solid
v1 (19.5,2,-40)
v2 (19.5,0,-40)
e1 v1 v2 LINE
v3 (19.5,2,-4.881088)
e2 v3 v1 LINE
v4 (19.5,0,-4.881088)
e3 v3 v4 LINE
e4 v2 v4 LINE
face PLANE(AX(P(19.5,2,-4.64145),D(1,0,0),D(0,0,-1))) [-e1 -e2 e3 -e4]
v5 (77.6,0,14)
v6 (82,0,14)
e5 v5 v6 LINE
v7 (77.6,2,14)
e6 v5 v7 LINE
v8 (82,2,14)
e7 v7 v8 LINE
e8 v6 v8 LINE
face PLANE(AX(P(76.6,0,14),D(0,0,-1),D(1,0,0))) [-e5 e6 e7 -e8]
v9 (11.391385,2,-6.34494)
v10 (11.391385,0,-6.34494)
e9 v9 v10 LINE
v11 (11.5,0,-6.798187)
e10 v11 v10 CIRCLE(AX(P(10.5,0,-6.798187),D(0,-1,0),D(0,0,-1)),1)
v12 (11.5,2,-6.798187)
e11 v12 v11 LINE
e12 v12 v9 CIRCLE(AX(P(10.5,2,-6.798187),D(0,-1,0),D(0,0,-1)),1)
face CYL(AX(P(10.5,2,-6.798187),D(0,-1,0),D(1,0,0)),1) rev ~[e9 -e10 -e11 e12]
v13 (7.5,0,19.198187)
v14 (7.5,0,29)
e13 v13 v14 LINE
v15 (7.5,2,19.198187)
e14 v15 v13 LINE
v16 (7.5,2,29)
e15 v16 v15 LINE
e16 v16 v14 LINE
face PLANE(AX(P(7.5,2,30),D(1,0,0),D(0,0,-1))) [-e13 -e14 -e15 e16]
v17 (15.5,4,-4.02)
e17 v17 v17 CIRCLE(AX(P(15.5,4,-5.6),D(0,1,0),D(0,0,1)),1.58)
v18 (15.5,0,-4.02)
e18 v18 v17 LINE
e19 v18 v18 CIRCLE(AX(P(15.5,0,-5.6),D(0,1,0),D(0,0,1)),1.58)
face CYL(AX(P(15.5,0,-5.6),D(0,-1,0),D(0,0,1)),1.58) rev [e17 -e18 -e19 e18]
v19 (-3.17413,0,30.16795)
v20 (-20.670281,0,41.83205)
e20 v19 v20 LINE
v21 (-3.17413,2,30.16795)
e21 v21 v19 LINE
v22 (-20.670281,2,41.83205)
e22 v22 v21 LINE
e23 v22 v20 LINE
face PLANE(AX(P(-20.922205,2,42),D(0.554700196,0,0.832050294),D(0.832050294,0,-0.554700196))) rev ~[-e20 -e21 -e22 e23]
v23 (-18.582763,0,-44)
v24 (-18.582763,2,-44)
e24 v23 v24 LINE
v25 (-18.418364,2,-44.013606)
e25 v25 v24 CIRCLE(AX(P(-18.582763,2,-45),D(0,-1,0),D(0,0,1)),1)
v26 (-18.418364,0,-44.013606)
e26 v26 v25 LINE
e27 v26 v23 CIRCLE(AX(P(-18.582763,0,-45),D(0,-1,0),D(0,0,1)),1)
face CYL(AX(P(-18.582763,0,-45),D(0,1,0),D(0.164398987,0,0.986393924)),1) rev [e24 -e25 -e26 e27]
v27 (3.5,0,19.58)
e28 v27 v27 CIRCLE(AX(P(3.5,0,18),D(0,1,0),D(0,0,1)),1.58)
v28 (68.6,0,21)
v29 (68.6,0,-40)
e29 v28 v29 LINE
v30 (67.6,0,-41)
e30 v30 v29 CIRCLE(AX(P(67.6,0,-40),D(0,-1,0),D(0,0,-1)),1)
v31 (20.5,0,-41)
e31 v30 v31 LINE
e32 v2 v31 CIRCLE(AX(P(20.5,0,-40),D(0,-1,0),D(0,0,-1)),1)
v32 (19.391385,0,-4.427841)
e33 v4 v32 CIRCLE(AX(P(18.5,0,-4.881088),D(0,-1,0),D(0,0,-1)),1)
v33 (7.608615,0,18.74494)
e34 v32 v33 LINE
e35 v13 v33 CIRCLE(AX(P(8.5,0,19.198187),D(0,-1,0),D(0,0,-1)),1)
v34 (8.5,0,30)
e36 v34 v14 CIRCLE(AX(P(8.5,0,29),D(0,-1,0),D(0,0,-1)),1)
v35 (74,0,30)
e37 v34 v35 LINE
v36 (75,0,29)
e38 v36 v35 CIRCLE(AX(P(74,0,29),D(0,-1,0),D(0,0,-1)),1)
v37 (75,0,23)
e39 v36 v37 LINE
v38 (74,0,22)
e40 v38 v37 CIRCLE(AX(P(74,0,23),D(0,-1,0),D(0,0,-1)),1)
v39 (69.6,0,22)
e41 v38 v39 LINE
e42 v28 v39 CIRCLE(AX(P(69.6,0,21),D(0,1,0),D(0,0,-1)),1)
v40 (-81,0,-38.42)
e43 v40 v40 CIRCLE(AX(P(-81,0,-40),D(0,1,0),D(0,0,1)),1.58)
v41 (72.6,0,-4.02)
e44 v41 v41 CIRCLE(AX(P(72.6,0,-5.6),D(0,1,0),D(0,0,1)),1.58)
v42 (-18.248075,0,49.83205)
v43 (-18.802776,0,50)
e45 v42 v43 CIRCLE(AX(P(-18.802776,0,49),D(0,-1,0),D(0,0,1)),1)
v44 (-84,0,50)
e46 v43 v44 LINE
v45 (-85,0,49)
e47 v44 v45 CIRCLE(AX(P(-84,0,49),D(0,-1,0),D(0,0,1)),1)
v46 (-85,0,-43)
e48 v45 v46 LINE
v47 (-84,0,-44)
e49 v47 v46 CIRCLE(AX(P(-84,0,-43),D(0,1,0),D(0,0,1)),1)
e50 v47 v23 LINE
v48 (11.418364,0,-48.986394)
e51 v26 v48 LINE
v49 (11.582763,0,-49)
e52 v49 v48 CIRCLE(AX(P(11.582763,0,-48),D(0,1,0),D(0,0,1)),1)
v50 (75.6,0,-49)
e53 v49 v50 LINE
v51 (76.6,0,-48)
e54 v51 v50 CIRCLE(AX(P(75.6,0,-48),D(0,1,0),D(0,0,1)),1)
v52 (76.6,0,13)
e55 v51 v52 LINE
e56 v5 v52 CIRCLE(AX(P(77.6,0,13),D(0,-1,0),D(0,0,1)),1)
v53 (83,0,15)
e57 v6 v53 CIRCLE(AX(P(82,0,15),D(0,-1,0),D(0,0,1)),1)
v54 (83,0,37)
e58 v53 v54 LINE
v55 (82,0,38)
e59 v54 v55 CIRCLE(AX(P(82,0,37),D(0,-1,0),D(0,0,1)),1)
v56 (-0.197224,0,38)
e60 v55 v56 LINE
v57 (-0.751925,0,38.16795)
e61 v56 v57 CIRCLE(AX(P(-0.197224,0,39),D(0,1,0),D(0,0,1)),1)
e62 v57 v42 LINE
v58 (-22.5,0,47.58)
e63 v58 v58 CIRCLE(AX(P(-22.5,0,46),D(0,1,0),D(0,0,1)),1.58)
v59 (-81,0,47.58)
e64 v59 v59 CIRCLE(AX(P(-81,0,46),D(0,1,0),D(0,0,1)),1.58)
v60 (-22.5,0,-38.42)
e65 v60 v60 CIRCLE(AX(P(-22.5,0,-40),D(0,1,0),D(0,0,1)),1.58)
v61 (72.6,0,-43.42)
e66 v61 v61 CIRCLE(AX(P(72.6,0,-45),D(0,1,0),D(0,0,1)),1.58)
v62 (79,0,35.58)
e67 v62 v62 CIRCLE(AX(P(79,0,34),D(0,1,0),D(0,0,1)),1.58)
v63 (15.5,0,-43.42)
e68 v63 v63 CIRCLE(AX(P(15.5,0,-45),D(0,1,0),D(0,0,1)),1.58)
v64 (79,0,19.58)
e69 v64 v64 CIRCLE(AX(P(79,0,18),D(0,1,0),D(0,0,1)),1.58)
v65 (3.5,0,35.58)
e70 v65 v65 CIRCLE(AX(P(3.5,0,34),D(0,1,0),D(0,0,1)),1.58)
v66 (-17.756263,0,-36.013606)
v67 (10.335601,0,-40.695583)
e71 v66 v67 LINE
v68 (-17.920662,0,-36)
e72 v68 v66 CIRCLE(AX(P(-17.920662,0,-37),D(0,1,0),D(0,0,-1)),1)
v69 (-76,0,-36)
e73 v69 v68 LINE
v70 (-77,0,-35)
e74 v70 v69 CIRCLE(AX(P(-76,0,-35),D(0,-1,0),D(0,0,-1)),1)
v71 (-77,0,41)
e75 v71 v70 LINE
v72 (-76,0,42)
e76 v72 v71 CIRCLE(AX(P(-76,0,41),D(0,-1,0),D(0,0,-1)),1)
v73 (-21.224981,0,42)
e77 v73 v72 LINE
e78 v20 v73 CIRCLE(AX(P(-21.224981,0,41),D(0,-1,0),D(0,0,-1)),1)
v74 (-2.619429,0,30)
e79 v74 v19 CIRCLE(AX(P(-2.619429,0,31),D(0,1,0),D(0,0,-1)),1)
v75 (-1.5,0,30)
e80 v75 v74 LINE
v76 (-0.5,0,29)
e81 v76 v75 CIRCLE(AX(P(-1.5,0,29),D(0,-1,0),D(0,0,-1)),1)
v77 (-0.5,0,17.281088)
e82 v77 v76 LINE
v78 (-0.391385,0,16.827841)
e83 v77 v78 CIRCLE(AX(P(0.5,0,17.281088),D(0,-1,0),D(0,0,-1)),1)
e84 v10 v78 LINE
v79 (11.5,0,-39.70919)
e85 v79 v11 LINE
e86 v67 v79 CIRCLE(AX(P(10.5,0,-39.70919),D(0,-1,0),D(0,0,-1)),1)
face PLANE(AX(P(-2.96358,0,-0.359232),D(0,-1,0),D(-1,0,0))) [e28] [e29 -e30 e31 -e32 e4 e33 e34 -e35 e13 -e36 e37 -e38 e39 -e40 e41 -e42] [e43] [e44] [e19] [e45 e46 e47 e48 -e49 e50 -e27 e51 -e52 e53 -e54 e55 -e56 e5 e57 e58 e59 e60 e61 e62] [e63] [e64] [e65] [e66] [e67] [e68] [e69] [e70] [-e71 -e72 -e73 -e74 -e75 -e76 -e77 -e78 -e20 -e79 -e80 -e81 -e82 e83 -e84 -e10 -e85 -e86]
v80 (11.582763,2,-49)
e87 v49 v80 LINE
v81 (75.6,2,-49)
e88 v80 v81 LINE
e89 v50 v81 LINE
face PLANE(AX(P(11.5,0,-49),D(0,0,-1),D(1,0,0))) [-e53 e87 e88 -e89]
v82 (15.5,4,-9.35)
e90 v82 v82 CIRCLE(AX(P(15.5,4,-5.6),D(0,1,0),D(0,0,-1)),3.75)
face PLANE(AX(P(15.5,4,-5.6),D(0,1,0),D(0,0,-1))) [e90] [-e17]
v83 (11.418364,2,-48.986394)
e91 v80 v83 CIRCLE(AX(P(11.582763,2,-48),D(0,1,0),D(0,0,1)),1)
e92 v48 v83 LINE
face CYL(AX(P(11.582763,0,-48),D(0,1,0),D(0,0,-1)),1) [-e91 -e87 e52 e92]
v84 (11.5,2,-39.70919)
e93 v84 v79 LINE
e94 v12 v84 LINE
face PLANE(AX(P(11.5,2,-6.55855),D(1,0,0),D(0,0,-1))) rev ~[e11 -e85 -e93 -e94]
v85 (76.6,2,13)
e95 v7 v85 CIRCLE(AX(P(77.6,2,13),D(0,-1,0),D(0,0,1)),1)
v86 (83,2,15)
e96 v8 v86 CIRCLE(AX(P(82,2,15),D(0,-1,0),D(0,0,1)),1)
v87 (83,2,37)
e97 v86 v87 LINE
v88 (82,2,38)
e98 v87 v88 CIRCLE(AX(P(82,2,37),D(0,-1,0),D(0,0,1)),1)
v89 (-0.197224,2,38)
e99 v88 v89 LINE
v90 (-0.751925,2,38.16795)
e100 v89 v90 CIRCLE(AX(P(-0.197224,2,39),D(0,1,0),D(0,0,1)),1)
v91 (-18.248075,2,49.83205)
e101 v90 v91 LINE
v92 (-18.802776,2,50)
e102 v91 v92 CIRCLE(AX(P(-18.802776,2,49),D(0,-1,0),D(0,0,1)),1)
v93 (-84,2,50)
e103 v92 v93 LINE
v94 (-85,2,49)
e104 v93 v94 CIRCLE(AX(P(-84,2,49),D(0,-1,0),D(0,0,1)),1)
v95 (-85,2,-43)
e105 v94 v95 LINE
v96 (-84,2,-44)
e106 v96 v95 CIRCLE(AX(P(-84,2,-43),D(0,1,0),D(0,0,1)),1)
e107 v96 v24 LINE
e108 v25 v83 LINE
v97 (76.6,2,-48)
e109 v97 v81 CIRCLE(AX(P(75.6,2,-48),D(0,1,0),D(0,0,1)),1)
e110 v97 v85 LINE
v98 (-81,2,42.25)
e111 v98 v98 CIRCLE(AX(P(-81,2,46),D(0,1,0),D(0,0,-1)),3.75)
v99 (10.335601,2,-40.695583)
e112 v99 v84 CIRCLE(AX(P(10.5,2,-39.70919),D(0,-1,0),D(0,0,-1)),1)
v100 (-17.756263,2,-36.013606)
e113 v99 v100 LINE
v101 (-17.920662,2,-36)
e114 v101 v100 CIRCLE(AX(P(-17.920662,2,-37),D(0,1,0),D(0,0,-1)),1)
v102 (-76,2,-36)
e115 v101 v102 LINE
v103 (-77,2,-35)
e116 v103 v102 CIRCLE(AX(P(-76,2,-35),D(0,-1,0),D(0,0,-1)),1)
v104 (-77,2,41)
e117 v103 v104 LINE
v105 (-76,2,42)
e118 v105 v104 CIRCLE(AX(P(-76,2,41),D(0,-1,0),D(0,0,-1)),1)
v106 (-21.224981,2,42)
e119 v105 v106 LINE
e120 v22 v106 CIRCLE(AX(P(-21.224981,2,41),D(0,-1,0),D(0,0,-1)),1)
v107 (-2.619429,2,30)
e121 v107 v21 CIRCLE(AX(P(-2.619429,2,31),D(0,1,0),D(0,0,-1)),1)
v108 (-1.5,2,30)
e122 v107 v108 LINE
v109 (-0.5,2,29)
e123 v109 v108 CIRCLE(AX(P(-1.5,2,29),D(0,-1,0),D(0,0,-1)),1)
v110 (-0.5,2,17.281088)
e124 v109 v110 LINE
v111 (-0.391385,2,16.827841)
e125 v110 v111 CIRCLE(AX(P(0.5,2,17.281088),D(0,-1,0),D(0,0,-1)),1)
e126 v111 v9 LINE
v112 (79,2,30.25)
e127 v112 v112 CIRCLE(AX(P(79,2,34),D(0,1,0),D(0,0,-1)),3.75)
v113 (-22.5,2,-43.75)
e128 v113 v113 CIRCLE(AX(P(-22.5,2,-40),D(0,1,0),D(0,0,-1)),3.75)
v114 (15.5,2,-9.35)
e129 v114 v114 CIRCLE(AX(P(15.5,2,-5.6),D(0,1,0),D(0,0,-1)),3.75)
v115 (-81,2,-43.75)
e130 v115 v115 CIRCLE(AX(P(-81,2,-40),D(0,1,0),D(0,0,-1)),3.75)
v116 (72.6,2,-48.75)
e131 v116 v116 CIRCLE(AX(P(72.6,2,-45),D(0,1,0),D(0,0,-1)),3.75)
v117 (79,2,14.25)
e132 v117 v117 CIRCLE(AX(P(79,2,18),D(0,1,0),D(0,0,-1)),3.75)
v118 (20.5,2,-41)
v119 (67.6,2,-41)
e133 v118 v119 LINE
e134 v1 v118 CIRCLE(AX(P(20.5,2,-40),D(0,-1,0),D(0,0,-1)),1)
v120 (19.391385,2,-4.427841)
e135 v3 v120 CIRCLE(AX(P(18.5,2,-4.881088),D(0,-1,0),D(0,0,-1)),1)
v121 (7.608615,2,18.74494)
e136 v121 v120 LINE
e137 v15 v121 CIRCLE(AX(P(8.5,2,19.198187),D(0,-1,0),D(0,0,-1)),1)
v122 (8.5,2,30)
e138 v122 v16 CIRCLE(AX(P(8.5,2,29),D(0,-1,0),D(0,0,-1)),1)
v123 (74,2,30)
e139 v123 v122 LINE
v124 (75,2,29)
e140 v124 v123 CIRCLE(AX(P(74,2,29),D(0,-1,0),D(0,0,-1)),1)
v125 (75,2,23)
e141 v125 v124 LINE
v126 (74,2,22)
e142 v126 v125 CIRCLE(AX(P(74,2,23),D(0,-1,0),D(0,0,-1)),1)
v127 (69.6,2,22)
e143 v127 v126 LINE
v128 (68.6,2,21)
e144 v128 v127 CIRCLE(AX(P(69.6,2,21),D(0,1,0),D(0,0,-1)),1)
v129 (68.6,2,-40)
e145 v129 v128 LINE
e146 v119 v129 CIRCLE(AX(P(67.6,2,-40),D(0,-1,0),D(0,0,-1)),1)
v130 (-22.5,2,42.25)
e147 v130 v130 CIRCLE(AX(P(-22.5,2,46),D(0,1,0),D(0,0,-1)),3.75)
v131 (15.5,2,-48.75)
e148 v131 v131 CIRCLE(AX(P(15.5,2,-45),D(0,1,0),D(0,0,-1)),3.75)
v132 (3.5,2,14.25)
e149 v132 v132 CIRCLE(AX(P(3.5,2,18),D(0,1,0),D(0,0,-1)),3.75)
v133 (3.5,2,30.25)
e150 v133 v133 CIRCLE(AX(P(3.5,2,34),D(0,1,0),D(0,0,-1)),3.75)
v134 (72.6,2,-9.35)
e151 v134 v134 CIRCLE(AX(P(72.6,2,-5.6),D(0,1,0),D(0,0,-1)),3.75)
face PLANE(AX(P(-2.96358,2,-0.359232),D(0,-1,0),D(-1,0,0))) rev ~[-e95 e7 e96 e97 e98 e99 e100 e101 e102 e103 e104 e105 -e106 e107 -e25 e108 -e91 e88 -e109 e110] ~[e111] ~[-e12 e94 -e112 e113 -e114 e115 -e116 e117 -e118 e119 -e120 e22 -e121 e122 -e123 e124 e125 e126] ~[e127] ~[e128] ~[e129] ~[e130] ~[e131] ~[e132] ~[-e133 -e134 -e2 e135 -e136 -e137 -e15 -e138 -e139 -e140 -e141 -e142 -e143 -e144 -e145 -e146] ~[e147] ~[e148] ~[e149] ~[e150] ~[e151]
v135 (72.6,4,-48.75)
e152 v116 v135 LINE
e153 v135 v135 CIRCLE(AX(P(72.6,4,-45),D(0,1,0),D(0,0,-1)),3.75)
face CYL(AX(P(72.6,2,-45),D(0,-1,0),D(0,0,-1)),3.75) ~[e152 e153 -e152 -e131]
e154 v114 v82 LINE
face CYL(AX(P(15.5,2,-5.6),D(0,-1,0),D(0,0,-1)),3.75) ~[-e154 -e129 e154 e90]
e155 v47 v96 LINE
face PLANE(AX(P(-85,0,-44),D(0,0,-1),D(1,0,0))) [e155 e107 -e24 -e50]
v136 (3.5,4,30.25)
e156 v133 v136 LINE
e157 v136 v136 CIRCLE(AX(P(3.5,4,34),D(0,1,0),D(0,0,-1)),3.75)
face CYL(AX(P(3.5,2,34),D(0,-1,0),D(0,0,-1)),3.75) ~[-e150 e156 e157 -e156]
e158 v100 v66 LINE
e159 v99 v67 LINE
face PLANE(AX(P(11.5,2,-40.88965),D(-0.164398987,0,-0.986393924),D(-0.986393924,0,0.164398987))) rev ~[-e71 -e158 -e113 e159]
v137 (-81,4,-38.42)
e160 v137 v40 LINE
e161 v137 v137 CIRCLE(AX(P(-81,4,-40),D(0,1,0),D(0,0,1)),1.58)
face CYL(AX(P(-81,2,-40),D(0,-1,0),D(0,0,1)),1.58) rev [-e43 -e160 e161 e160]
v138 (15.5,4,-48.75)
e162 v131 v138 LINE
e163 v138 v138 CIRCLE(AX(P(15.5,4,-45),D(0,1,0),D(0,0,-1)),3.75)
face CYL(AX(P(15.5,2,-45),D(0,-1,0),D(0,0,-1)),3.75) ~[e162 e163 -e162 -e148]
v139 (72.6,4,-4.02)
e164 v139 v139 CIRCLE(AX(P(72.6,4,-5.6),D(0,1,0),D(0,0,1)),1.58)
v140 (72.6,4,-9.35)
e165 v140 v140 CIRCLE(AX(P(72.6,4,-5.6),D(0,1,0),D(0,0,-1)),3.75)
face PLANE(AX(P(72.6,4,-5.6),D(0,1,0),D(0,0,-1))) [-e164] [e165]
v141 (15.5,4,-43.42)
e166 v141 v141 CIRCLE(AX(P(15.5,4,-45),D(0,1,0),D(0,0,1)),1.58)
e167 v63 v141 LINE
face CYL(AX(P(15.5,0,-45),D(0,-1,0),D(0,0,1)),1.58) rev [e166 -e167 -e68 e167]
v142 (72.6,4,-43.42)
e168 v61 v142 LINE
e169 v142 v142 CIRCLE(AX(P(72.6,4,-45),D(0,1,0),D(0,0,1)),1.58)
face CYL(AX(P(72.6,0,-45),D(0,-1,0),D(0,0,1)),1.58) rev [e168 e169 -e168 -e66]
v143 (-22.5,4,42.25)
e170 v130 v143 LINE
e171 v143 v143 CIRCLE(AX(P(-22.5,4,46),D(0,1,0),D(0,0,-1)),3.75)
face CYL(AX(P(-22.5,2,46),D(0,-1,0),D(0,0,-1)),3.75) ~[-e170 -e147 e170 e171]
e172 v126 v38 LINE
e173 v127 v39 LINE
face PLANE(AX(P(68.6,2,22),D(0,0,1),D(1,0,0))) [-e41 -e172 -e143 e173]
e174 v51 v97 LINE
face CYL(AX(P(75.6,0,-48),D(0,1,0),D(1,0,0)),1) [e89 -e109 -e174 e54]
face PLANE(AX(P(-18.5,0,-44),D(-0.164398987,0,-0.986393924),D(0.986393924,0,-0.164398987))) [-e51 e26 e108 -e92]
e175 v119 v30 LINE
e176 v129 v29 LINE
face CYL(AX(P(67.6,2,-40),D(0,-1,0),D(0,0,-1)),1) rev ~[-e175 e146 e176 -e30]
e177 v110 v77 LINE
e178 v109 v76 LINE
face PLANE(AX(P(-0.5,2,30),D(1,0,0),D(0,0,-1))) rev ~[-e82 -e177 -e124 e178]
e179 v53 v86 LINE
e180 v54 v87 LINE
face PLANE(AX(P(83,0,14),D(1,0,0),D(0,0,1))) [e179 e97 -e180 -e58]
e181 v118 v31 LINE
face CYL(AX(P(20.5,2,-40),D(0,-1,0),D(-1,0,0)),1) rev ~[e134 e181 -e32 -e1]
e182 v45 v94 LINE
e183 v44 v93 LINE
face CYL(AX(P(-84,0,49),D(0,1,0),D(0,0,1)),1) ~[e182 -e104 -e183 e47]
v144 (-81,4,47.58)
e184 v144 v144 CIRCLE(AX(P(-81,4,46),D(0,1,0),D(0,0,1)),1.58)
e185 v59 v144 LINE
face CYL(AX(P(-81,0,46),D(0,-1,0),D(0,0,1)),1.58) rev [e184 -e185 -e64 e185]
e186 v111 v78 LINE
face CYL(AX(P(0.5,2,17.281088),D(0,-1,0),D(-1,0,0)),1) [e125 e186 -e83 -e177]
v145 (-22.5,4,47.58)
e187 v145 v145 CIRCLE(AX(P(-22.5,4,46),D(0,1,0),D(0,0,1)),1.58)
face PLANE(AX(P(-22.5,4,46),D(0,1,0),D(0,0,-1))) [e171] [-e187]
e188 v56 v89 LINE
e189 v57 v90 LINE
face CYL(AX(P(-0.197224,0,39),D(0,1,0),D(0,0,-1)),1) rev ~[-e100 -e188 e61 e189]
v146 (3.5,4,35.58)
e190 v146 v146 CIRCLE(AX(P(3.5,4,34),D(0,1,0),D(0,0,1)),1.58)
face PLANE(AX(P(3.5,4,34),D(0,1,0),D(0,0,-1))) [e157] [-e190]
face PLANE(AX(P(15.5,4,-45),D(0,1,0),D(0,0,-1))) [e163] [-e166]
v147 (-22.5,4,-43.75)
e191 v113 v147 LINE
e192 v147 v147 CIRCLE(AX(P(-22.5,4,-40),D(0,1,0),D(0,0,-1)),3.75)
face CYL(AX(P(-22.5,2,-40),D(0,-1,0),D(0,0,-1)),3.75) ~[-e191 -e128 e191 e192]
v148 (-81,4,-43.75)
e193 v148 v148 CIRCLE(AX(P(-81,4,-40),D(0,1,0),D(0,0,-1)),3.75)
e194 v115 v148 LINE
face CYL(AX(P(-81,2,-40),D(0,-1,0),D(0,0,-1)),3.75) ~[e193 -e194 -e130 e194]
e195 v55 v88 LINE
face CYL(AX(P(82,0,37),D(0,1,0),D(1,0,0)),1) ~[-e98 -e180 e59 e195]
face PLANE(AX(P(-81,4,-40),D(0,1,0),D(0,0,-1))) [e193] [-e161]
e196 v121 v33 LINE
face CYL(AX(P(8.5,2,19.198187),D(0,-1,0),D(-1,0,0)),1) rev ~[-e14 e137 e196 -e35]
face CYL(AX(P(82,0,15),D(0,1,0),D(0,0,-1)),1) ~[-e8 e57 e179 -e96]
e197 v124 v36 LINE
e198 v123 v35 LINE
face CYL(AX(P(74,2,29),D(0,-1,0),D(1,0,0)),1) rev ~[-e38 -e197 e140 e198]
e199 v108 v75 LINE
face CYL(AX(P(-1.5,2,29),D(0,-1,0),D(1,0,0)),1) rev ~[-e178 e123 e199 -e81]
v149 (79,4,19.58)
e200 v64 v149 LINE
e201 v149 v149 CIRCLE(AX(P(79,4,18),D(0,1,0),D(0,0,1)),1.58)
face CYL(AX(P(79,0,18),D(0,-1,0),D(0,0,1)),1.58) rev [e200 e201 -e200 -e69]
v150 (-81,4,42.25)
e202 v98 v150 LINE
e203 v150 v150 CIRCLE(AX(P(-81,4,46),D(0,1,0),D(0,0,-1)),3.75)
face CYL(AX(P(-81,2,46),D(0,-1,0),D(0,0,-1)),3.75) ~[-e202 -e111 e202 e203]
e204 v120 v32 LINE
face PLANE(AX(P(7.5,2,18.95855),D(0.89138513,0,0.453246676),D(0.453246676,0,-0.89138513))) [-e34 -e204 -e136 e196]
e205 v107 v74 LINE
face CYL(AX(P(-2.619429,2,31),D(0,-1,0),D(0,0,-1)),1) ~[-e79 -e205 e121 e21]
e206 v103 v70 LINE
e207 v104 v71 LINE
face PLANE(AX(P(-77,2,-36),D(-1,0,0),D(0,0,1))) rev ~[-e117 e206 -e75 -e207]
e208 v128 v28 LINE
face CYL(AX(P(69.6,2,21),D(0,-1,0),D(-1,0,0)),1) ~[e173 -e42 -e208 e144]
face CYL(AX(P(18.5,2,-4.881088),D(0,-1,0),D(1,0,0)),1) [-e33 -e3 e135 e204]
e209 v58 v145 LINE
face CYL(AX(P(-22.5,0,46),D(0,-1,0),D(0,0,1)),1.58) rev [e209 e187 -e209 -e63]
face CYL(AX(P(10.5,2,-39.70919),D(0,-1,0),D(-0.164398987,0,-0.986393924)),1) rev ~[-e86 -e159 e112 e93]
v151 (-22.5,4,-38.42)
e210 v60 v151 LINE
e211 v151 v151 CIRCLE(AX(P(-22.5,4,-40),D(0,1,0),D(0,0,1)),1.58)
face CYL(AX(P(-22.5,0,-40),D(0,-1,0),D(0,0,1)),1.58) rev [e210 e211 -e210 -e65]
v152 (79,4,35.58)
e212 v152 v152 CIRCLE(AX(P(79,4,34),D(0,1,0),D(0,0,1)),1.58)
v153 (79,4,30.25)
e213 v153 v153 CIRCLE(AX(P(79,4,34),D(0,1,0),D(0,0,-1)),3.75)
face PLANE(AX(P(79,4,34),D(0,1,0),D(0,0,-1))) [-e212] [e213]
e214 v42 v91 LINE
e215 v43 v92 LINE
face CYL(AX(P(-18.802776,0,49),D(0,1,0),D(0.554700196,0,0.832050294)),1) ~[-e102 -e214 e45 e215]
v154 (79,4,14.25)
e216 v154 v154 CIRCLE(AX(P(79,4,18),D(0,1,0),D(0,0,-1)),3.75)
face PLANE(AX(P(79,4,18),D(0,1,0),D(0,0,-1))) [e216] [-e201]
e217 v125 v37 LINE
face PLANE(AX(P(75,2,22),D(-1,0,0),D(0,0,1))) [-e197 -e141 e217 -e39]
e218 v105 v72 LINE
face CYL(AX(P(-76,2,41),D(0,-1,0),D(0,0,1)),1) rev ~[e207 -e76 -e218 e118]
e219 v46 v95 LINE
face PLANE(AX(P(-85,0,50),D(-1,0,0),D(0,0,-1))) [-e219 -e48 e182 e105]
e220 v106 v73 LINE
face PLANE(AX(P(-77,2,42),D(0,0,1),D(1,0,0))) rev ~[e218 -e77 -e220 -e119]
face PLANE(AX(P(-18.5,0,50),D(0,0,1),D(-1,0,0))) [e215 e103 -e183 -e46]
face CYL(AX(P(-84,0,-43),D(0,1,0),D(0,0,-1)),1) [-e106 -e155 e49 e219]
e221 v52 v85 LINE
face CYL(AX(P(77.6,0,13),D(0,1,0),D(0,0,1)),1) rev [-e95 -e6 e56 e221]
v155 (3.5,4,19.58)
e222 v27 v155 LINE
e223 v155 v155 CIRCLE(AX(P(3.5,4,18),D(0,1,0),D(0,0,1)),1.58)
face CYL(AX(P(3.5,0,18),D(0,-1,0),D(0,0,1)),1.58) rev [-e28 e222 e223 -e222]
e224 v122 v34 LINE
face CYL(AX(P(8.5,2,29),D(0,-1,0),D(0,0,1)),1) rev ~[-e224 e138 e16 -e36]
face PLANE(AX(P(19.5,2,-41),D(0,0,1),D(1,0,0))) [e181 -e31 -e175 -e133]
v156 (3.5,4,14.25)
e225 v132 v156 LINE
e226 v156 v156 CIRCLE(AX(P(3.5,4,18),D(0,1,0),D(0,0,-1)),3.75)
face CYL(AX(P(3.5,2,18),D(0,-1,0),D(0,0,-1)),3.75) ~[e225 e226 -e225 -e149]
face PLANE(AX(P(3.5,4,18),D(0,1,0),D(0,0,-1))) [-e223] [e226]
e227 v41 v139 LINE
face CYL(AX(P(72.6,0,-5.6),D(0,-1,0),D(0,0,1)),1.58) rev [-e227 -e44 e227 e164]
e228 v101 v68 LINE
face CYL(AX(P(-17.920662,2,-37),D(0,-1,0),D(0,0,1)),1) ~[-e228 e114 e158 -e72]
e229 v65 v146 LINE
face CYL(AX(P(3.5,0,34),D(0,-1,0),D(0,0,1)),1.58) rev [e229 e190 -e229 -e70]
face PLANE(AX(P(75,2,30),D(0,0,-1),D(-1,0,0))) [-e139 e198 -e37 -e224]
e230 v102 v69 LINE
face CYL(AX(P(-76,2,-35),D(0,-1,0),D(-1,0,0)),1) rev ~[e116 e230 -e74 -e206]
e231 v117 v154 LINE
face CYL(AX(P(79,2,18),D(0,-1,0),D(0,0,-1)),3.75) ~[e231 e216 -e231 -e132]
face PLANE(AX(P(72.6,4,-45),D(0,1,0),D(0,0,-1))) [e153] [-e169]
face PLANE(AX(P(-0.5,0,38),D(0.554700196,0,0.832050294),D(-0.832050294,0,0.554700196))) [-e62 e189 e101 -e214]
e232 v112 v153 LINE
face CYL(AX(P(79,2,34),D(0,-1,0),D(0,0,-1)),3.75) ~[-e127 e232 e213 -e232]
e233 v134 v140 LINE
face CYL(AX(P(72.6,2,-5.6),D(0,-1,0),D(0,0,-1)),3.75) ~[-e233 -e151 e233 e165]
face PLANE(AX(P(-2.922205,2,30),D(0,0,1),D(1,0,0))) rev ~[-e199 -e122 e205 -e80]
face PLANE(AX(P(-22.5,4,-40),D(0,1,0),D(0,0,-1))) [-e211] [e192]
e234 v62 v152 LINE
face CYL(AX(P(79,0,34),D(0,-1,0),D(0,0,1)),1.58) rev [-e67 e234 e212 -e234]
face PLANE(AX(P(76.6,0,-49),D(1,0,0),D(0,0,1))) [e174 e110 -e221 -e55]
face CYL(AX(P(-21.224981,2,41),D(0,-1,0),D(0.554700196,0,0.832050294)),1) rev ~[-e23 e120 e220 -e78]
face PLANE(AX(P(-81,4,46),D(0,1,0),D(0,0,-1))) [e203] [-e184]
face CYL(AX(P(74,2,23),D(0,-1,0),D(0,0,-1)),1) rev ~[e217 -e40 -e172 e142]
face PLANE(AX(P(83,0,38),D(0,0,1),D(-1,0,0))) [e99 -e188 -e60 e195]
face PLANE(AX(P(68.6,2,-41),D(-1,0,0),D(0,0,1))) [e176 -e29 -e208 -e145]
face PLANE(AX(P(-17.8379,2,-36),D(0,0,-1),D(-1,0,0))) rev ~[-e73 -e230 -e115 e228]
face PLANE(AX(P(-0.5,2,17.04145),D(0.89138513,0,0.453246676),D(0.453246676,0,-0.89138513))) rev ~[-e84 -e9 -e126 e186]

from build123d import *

# Parameters (mm, degrees)
SKETCH1_R           = 1.58
BOSS_EXTRUDE1_DEPTH = 2
SKETCH2_R           = 3.75
SKETCH2_R_2         = 1.58
BOSS_EXTRUDE2_DEPTH = 2
CUT_EXTRUDE5_DEPTH  = 99.635693337
FILLET4_R           = 1


with BuildPart() as part:
    # Sketch1 → Boss-Extrude1 (new body)
    with BuildSketch(Plane(origin=(0, 0, 0), x_dir=(1, 0, 0), z_dir=(0, 1, 0))):
        Polygon((76.6, -14), (83, -14), (83, -38), (-0.5, -38), (-18.5, -50), (-85, -50), (-85, 44), (-18.5, 44), (11.5, 49), (76.6, 49), align=None)
        with Locations(Location((15.5, 45, 0), (0, 0, 270))):
            Circle(SKETCH1_R, mode=Mode.SUBTRACT)
        with Locations(Location((72.6, 45, 0), (0, 0, 270))):
            Circle(SKETCH1_R, mode=Mode.SUBTRACT)
        with Locations(Location((72.6, 5.6, 0), (0, 0, 270))):
            Circle(SKETCH1_R, mode=Mode.SUBTRACT)
        with Locations(Location((15.5, 5.6, 0), (0, 0, 270))):
            Circle(SKETCH1_R, mode=Mode.SUBTRACT)
        with Locations(Location((-81, 40, 0), (0, 0, 270))):
            Circle(SKETCH1_R, mode=Mode.SUBTRACT)
        with Locations(Location((-22.5, 40, 0), (0, 0, 270))):
            Circle(SKETCH1_R, mode=Mode.SUBTRACT)
        with Locations(Location((-22.5, -46, 0), (0, 0, 270))):
            Circle(SKETCH1_R, mode=Mode.SUBTRACT)
        with Locations(Location((-81, -46, 0), (0, 0, 270))):
            Circle(SKETCH1_R, mode=Mode.SUBTRACT)
        with Locations(Location((79, -34, 0), (0, 0, 270))):
            Circle(SKETCH1_R, mode=Mode.SUBTRACT)
        with Locations(Location((79, -18, 0), (0, 0, 270))):
            Circle(SKETCH1_R, mode=Mode.SUBTRACT)
        with Locations(Location((3.5, -34, 0), (0, 0, 270))):
            Circle(SKETCH1_R, mode=Mode.SUBTRACT)
        with Locations(Location((3.5, -18, 0), (0, 0, 270))):
            Circle(SKETCH1_R, mode=Mode.SUBTRACT)
    extrude(amount=BOSS_EXTRUDE1_DEPTH)

    # Sketch2 → Boss-Extrude2 (add)
    # profile 1 of 12: a face of its own
    with BuildSketch(Plane(origin=(0, 2, 0), x_dir=(1, 0, 0), z_dir=(0, 1, 0))):
        with Locations(Location((-81, 40, 0), (0, 0, 90))):
            Circle(SKETCH2_R)
        with Locations(Location((-81, 40, 0), (0, 0, 270))):
            Circle(SKETCH2_R_2, mode=Mode.SUBTRACT)
    # profile 2 of 12: a face of its own
    with BuildSketch(Plane(origin=(0, 2, 0), x_dir=(1, 0, 0), z_dir=(0, 1, 0))):
        with Locations(Location((-22.5, 40, 0), (0, 0, 90))):
            Circle(SKETCH2_R)
        with Locations(Location((-22.5, 40, 0), (0, 0, 270))):
            Circle(SKETCH2_R_2, mode=Mode.SUBTRACT)
    # profile 3 of 12: a face of its own
    with BuildSketch(Plane(origin=(0, 2, 0), x_dir=(1, 0, 0), z_dir=(0, 1, 0))):
        with Locations(Location((-81, -46, 0), (0, 0, 90))):
            Circle(SKETCH2_R)
        with Locations(Location((-81, -46, 0), (0, 0, 270))):
            Circle(SKETCH2_R_2, mode=Mode.SUBTRACT)
    # profile 4 of 12: a face of its own
    with BuildSketch(Plane(origin=(0, 2, 0), x_dir=(1, 0, 0), z_dir=(0, 1, 0))):
        with Locations(Location((-22.5, -46, 0), (0, 0, 90))):
            Circle(SKETCH2_R)
        with Locations(Location((-22.5, -46, 0), (0, 0, 270))):
            Circle(SKETCH2_R_2, mode=Mode.SUBTRACT)
    # profile 5 of 12: a face of its own
    with BuildSketch(Plane(origin=(0, 2, 0), x_dir=(1, 0, 0), z_dir=(0, 1, 0))):
        with Locations(Location((3.5, -34, 0), (0, 0, 90))):
            Circle(SKETCH2_R)
        with Locations(Location((3.5, -34, 0), (0, 0, 270))):
            Circle(SKETCH2_R_2, mode=Mode.SUBTRACT)
    # profile 6 of 12: a face of its own
    with BuildSketch(Plane(origin=(0, 2, 0), x_dir=(1, 0, 0), z_dir=(0, 1, 0))):
        with Locations(Location((3.5, -18, 0), (0, 0, 90))):
            Circle(SKETCH2_R)
        with Locations(Location((3.5, -18, 0), (0, 0, 270))):
            Circle(SKETCH2_R_2, mode=Mode.SUBTRACT)
    # profile 7 of 12: a face of its own
    with BuildSketch(Plane(origin=(0, 2, 0), x_dir=(1, 0, 0), z_dir=(0, 1, 0))):
        with Locations(Location((15.5, 5.6, 0), (0, 0, 90))):
            Circle(SKETCH2_R)
        with Locations(Location((15.5, 5.6, 0), (0, 0, 270))):
            Circle(SKETCH2_R_2, mode=Mode.SUBTRACT)
    # profile 8 of 12: a face of its own
    with BuildSketch(Plane(origin=(0, 2, 0), x_dir=(1, 0, 0), z_dir=(0, 1, 0))):
        with Locations(Location((72.6, 5.6, 0), (0, 0, 90))):
            Circle(SKETCH2_R)
        with Locations(Location((72.6, 5.6, 0), (0, 0, 270))):
            Circle(SKETCH2_R_2, mode=Mode.SUBTRACT)
    # profile 9 of 12: a face of its own
    with BuildSketch(Plane(origin=(0, 2, 0), x_dir=(1, 0, 0), z_dir=(0, 1, 0))):
        with Locations(Location((79, -18, 0), (0, 0, 90))):
            Circle(SKETCH2_R)
        with Locations(Location((79, -18, 0), (0, 0, 270))):
            Circle(SKETCH2_R_2, mode=Mode.SUBTRACT)
    # profile 10 of 12: a face of its own
    with BuildSketch(Plane(origin=(0, 2, 0), x_dir=(1, 0, 0), z_dir=(0, 1, 0))):
        with Locations(Location((79, -34, 0), (0, 0, 90))):
            Circle(SKETCH2_R)
        with Locations(Location((79, -34, 0), (0, 0, 270))):
            Circle(SKETCH2_R_2, mode=Mode.SUBTRACT)
    # profile 11 of 12: a face of its own
    with BuildSketch(Plane(origin=(0, 2, 0), x_dir=(1, 0, 0), z_dir=(0, 1, 0))):
        with Locations(Location((72.6, 45, 0), (0, 0, 90))):
            Circle(SKETCH2_R)
        with Locations(Location((72.6, 45, 0), (0, 0, 270))):
            Circle(SKETCH2_R_2, mode=Mode.SUBTRACT)
    # profile 12 of 12: a face of its own
    with BuildSketch(Plane(origin=(0, 2, 0), x_dir=(1, 0, 0), z_dir=(0, 1, 0))):
        with Locations(Location((15.5, 45, 0), (0, 0, 90))):
            Circle(SKETCH2_R)
        with Locations(Location((15.5, 45, 0), (0, 0, 270))):
            Circle(SKETCH2_R_2, mode=Mode.SUBTRACT)
    extrude(amount=BOSS_EXTRUDE2_DEPTH)

    # Sketch7 → Cut-Extrude5 (cut, through all)
    with BuildSketch(Plane(origin=(0, 2, 0), x_dir=(1, 0, 0), z_dir=(0, 1, 0))):
        Polygon((-0.5, -17.04145027), (11.5, 6.55854973), (11.5, 40.88964996), (-17.837899758, 36), (-77, 36), (-77, -42), (-20.922205102, -42), (-2.922205102, -30), (-0.5, -30), align=None)
        Polygon((19.5, 4.64145027), (19.5, 41), (68.6, 41), (68.6, -22), (75, -22), (75, -30), (7.5, -30), (7.5, -18.95854973), align=None)
    extrude(amount=-CUT_EXTRUDE5_DEPTH, mode=Mode.SUBTRACT)

    # Fillet4
    fillet4_edges = [part.edges().sort_by_distance(p)[0] for p in [
        (7.5, 1, 18.95854973),
        (19.5, 1, -4.64145027),
        (19.5, 1, -41),
        (68.6, 1, -41),
        (68.6, 1, 22),
        (75, 1, 22),
        (75, 1, 30),
        (7.5, 1, 30),
        (-18.5, 1, -44),
        (11.5, 1, -49),
        (76.6, 1, -49),
        (76.6, 1, 14),
        (83, 1, 14),
        (83, 1, 38),
        (-0.5, 1, 38),
        (-17.837899758, 1, -36),
        (11.5, 1, -40.88964996),
        (-18.5, 1, 50),
        (11.5, 1, -6.55854973),
        (-0.5, 1, 17.04145027),
        (-0.5, 1, 30),
        (-85, 1, 50),
        (-2.922205102, 1, 30),
        (-20.922205102, 1, 42),
        (-85, 1, -44),
        (-77, 1, 42),
        (-77, 1, -36),
    ]]
    fillet(fillet4_edges, radius=FILLET4_R)


solid = part.part
